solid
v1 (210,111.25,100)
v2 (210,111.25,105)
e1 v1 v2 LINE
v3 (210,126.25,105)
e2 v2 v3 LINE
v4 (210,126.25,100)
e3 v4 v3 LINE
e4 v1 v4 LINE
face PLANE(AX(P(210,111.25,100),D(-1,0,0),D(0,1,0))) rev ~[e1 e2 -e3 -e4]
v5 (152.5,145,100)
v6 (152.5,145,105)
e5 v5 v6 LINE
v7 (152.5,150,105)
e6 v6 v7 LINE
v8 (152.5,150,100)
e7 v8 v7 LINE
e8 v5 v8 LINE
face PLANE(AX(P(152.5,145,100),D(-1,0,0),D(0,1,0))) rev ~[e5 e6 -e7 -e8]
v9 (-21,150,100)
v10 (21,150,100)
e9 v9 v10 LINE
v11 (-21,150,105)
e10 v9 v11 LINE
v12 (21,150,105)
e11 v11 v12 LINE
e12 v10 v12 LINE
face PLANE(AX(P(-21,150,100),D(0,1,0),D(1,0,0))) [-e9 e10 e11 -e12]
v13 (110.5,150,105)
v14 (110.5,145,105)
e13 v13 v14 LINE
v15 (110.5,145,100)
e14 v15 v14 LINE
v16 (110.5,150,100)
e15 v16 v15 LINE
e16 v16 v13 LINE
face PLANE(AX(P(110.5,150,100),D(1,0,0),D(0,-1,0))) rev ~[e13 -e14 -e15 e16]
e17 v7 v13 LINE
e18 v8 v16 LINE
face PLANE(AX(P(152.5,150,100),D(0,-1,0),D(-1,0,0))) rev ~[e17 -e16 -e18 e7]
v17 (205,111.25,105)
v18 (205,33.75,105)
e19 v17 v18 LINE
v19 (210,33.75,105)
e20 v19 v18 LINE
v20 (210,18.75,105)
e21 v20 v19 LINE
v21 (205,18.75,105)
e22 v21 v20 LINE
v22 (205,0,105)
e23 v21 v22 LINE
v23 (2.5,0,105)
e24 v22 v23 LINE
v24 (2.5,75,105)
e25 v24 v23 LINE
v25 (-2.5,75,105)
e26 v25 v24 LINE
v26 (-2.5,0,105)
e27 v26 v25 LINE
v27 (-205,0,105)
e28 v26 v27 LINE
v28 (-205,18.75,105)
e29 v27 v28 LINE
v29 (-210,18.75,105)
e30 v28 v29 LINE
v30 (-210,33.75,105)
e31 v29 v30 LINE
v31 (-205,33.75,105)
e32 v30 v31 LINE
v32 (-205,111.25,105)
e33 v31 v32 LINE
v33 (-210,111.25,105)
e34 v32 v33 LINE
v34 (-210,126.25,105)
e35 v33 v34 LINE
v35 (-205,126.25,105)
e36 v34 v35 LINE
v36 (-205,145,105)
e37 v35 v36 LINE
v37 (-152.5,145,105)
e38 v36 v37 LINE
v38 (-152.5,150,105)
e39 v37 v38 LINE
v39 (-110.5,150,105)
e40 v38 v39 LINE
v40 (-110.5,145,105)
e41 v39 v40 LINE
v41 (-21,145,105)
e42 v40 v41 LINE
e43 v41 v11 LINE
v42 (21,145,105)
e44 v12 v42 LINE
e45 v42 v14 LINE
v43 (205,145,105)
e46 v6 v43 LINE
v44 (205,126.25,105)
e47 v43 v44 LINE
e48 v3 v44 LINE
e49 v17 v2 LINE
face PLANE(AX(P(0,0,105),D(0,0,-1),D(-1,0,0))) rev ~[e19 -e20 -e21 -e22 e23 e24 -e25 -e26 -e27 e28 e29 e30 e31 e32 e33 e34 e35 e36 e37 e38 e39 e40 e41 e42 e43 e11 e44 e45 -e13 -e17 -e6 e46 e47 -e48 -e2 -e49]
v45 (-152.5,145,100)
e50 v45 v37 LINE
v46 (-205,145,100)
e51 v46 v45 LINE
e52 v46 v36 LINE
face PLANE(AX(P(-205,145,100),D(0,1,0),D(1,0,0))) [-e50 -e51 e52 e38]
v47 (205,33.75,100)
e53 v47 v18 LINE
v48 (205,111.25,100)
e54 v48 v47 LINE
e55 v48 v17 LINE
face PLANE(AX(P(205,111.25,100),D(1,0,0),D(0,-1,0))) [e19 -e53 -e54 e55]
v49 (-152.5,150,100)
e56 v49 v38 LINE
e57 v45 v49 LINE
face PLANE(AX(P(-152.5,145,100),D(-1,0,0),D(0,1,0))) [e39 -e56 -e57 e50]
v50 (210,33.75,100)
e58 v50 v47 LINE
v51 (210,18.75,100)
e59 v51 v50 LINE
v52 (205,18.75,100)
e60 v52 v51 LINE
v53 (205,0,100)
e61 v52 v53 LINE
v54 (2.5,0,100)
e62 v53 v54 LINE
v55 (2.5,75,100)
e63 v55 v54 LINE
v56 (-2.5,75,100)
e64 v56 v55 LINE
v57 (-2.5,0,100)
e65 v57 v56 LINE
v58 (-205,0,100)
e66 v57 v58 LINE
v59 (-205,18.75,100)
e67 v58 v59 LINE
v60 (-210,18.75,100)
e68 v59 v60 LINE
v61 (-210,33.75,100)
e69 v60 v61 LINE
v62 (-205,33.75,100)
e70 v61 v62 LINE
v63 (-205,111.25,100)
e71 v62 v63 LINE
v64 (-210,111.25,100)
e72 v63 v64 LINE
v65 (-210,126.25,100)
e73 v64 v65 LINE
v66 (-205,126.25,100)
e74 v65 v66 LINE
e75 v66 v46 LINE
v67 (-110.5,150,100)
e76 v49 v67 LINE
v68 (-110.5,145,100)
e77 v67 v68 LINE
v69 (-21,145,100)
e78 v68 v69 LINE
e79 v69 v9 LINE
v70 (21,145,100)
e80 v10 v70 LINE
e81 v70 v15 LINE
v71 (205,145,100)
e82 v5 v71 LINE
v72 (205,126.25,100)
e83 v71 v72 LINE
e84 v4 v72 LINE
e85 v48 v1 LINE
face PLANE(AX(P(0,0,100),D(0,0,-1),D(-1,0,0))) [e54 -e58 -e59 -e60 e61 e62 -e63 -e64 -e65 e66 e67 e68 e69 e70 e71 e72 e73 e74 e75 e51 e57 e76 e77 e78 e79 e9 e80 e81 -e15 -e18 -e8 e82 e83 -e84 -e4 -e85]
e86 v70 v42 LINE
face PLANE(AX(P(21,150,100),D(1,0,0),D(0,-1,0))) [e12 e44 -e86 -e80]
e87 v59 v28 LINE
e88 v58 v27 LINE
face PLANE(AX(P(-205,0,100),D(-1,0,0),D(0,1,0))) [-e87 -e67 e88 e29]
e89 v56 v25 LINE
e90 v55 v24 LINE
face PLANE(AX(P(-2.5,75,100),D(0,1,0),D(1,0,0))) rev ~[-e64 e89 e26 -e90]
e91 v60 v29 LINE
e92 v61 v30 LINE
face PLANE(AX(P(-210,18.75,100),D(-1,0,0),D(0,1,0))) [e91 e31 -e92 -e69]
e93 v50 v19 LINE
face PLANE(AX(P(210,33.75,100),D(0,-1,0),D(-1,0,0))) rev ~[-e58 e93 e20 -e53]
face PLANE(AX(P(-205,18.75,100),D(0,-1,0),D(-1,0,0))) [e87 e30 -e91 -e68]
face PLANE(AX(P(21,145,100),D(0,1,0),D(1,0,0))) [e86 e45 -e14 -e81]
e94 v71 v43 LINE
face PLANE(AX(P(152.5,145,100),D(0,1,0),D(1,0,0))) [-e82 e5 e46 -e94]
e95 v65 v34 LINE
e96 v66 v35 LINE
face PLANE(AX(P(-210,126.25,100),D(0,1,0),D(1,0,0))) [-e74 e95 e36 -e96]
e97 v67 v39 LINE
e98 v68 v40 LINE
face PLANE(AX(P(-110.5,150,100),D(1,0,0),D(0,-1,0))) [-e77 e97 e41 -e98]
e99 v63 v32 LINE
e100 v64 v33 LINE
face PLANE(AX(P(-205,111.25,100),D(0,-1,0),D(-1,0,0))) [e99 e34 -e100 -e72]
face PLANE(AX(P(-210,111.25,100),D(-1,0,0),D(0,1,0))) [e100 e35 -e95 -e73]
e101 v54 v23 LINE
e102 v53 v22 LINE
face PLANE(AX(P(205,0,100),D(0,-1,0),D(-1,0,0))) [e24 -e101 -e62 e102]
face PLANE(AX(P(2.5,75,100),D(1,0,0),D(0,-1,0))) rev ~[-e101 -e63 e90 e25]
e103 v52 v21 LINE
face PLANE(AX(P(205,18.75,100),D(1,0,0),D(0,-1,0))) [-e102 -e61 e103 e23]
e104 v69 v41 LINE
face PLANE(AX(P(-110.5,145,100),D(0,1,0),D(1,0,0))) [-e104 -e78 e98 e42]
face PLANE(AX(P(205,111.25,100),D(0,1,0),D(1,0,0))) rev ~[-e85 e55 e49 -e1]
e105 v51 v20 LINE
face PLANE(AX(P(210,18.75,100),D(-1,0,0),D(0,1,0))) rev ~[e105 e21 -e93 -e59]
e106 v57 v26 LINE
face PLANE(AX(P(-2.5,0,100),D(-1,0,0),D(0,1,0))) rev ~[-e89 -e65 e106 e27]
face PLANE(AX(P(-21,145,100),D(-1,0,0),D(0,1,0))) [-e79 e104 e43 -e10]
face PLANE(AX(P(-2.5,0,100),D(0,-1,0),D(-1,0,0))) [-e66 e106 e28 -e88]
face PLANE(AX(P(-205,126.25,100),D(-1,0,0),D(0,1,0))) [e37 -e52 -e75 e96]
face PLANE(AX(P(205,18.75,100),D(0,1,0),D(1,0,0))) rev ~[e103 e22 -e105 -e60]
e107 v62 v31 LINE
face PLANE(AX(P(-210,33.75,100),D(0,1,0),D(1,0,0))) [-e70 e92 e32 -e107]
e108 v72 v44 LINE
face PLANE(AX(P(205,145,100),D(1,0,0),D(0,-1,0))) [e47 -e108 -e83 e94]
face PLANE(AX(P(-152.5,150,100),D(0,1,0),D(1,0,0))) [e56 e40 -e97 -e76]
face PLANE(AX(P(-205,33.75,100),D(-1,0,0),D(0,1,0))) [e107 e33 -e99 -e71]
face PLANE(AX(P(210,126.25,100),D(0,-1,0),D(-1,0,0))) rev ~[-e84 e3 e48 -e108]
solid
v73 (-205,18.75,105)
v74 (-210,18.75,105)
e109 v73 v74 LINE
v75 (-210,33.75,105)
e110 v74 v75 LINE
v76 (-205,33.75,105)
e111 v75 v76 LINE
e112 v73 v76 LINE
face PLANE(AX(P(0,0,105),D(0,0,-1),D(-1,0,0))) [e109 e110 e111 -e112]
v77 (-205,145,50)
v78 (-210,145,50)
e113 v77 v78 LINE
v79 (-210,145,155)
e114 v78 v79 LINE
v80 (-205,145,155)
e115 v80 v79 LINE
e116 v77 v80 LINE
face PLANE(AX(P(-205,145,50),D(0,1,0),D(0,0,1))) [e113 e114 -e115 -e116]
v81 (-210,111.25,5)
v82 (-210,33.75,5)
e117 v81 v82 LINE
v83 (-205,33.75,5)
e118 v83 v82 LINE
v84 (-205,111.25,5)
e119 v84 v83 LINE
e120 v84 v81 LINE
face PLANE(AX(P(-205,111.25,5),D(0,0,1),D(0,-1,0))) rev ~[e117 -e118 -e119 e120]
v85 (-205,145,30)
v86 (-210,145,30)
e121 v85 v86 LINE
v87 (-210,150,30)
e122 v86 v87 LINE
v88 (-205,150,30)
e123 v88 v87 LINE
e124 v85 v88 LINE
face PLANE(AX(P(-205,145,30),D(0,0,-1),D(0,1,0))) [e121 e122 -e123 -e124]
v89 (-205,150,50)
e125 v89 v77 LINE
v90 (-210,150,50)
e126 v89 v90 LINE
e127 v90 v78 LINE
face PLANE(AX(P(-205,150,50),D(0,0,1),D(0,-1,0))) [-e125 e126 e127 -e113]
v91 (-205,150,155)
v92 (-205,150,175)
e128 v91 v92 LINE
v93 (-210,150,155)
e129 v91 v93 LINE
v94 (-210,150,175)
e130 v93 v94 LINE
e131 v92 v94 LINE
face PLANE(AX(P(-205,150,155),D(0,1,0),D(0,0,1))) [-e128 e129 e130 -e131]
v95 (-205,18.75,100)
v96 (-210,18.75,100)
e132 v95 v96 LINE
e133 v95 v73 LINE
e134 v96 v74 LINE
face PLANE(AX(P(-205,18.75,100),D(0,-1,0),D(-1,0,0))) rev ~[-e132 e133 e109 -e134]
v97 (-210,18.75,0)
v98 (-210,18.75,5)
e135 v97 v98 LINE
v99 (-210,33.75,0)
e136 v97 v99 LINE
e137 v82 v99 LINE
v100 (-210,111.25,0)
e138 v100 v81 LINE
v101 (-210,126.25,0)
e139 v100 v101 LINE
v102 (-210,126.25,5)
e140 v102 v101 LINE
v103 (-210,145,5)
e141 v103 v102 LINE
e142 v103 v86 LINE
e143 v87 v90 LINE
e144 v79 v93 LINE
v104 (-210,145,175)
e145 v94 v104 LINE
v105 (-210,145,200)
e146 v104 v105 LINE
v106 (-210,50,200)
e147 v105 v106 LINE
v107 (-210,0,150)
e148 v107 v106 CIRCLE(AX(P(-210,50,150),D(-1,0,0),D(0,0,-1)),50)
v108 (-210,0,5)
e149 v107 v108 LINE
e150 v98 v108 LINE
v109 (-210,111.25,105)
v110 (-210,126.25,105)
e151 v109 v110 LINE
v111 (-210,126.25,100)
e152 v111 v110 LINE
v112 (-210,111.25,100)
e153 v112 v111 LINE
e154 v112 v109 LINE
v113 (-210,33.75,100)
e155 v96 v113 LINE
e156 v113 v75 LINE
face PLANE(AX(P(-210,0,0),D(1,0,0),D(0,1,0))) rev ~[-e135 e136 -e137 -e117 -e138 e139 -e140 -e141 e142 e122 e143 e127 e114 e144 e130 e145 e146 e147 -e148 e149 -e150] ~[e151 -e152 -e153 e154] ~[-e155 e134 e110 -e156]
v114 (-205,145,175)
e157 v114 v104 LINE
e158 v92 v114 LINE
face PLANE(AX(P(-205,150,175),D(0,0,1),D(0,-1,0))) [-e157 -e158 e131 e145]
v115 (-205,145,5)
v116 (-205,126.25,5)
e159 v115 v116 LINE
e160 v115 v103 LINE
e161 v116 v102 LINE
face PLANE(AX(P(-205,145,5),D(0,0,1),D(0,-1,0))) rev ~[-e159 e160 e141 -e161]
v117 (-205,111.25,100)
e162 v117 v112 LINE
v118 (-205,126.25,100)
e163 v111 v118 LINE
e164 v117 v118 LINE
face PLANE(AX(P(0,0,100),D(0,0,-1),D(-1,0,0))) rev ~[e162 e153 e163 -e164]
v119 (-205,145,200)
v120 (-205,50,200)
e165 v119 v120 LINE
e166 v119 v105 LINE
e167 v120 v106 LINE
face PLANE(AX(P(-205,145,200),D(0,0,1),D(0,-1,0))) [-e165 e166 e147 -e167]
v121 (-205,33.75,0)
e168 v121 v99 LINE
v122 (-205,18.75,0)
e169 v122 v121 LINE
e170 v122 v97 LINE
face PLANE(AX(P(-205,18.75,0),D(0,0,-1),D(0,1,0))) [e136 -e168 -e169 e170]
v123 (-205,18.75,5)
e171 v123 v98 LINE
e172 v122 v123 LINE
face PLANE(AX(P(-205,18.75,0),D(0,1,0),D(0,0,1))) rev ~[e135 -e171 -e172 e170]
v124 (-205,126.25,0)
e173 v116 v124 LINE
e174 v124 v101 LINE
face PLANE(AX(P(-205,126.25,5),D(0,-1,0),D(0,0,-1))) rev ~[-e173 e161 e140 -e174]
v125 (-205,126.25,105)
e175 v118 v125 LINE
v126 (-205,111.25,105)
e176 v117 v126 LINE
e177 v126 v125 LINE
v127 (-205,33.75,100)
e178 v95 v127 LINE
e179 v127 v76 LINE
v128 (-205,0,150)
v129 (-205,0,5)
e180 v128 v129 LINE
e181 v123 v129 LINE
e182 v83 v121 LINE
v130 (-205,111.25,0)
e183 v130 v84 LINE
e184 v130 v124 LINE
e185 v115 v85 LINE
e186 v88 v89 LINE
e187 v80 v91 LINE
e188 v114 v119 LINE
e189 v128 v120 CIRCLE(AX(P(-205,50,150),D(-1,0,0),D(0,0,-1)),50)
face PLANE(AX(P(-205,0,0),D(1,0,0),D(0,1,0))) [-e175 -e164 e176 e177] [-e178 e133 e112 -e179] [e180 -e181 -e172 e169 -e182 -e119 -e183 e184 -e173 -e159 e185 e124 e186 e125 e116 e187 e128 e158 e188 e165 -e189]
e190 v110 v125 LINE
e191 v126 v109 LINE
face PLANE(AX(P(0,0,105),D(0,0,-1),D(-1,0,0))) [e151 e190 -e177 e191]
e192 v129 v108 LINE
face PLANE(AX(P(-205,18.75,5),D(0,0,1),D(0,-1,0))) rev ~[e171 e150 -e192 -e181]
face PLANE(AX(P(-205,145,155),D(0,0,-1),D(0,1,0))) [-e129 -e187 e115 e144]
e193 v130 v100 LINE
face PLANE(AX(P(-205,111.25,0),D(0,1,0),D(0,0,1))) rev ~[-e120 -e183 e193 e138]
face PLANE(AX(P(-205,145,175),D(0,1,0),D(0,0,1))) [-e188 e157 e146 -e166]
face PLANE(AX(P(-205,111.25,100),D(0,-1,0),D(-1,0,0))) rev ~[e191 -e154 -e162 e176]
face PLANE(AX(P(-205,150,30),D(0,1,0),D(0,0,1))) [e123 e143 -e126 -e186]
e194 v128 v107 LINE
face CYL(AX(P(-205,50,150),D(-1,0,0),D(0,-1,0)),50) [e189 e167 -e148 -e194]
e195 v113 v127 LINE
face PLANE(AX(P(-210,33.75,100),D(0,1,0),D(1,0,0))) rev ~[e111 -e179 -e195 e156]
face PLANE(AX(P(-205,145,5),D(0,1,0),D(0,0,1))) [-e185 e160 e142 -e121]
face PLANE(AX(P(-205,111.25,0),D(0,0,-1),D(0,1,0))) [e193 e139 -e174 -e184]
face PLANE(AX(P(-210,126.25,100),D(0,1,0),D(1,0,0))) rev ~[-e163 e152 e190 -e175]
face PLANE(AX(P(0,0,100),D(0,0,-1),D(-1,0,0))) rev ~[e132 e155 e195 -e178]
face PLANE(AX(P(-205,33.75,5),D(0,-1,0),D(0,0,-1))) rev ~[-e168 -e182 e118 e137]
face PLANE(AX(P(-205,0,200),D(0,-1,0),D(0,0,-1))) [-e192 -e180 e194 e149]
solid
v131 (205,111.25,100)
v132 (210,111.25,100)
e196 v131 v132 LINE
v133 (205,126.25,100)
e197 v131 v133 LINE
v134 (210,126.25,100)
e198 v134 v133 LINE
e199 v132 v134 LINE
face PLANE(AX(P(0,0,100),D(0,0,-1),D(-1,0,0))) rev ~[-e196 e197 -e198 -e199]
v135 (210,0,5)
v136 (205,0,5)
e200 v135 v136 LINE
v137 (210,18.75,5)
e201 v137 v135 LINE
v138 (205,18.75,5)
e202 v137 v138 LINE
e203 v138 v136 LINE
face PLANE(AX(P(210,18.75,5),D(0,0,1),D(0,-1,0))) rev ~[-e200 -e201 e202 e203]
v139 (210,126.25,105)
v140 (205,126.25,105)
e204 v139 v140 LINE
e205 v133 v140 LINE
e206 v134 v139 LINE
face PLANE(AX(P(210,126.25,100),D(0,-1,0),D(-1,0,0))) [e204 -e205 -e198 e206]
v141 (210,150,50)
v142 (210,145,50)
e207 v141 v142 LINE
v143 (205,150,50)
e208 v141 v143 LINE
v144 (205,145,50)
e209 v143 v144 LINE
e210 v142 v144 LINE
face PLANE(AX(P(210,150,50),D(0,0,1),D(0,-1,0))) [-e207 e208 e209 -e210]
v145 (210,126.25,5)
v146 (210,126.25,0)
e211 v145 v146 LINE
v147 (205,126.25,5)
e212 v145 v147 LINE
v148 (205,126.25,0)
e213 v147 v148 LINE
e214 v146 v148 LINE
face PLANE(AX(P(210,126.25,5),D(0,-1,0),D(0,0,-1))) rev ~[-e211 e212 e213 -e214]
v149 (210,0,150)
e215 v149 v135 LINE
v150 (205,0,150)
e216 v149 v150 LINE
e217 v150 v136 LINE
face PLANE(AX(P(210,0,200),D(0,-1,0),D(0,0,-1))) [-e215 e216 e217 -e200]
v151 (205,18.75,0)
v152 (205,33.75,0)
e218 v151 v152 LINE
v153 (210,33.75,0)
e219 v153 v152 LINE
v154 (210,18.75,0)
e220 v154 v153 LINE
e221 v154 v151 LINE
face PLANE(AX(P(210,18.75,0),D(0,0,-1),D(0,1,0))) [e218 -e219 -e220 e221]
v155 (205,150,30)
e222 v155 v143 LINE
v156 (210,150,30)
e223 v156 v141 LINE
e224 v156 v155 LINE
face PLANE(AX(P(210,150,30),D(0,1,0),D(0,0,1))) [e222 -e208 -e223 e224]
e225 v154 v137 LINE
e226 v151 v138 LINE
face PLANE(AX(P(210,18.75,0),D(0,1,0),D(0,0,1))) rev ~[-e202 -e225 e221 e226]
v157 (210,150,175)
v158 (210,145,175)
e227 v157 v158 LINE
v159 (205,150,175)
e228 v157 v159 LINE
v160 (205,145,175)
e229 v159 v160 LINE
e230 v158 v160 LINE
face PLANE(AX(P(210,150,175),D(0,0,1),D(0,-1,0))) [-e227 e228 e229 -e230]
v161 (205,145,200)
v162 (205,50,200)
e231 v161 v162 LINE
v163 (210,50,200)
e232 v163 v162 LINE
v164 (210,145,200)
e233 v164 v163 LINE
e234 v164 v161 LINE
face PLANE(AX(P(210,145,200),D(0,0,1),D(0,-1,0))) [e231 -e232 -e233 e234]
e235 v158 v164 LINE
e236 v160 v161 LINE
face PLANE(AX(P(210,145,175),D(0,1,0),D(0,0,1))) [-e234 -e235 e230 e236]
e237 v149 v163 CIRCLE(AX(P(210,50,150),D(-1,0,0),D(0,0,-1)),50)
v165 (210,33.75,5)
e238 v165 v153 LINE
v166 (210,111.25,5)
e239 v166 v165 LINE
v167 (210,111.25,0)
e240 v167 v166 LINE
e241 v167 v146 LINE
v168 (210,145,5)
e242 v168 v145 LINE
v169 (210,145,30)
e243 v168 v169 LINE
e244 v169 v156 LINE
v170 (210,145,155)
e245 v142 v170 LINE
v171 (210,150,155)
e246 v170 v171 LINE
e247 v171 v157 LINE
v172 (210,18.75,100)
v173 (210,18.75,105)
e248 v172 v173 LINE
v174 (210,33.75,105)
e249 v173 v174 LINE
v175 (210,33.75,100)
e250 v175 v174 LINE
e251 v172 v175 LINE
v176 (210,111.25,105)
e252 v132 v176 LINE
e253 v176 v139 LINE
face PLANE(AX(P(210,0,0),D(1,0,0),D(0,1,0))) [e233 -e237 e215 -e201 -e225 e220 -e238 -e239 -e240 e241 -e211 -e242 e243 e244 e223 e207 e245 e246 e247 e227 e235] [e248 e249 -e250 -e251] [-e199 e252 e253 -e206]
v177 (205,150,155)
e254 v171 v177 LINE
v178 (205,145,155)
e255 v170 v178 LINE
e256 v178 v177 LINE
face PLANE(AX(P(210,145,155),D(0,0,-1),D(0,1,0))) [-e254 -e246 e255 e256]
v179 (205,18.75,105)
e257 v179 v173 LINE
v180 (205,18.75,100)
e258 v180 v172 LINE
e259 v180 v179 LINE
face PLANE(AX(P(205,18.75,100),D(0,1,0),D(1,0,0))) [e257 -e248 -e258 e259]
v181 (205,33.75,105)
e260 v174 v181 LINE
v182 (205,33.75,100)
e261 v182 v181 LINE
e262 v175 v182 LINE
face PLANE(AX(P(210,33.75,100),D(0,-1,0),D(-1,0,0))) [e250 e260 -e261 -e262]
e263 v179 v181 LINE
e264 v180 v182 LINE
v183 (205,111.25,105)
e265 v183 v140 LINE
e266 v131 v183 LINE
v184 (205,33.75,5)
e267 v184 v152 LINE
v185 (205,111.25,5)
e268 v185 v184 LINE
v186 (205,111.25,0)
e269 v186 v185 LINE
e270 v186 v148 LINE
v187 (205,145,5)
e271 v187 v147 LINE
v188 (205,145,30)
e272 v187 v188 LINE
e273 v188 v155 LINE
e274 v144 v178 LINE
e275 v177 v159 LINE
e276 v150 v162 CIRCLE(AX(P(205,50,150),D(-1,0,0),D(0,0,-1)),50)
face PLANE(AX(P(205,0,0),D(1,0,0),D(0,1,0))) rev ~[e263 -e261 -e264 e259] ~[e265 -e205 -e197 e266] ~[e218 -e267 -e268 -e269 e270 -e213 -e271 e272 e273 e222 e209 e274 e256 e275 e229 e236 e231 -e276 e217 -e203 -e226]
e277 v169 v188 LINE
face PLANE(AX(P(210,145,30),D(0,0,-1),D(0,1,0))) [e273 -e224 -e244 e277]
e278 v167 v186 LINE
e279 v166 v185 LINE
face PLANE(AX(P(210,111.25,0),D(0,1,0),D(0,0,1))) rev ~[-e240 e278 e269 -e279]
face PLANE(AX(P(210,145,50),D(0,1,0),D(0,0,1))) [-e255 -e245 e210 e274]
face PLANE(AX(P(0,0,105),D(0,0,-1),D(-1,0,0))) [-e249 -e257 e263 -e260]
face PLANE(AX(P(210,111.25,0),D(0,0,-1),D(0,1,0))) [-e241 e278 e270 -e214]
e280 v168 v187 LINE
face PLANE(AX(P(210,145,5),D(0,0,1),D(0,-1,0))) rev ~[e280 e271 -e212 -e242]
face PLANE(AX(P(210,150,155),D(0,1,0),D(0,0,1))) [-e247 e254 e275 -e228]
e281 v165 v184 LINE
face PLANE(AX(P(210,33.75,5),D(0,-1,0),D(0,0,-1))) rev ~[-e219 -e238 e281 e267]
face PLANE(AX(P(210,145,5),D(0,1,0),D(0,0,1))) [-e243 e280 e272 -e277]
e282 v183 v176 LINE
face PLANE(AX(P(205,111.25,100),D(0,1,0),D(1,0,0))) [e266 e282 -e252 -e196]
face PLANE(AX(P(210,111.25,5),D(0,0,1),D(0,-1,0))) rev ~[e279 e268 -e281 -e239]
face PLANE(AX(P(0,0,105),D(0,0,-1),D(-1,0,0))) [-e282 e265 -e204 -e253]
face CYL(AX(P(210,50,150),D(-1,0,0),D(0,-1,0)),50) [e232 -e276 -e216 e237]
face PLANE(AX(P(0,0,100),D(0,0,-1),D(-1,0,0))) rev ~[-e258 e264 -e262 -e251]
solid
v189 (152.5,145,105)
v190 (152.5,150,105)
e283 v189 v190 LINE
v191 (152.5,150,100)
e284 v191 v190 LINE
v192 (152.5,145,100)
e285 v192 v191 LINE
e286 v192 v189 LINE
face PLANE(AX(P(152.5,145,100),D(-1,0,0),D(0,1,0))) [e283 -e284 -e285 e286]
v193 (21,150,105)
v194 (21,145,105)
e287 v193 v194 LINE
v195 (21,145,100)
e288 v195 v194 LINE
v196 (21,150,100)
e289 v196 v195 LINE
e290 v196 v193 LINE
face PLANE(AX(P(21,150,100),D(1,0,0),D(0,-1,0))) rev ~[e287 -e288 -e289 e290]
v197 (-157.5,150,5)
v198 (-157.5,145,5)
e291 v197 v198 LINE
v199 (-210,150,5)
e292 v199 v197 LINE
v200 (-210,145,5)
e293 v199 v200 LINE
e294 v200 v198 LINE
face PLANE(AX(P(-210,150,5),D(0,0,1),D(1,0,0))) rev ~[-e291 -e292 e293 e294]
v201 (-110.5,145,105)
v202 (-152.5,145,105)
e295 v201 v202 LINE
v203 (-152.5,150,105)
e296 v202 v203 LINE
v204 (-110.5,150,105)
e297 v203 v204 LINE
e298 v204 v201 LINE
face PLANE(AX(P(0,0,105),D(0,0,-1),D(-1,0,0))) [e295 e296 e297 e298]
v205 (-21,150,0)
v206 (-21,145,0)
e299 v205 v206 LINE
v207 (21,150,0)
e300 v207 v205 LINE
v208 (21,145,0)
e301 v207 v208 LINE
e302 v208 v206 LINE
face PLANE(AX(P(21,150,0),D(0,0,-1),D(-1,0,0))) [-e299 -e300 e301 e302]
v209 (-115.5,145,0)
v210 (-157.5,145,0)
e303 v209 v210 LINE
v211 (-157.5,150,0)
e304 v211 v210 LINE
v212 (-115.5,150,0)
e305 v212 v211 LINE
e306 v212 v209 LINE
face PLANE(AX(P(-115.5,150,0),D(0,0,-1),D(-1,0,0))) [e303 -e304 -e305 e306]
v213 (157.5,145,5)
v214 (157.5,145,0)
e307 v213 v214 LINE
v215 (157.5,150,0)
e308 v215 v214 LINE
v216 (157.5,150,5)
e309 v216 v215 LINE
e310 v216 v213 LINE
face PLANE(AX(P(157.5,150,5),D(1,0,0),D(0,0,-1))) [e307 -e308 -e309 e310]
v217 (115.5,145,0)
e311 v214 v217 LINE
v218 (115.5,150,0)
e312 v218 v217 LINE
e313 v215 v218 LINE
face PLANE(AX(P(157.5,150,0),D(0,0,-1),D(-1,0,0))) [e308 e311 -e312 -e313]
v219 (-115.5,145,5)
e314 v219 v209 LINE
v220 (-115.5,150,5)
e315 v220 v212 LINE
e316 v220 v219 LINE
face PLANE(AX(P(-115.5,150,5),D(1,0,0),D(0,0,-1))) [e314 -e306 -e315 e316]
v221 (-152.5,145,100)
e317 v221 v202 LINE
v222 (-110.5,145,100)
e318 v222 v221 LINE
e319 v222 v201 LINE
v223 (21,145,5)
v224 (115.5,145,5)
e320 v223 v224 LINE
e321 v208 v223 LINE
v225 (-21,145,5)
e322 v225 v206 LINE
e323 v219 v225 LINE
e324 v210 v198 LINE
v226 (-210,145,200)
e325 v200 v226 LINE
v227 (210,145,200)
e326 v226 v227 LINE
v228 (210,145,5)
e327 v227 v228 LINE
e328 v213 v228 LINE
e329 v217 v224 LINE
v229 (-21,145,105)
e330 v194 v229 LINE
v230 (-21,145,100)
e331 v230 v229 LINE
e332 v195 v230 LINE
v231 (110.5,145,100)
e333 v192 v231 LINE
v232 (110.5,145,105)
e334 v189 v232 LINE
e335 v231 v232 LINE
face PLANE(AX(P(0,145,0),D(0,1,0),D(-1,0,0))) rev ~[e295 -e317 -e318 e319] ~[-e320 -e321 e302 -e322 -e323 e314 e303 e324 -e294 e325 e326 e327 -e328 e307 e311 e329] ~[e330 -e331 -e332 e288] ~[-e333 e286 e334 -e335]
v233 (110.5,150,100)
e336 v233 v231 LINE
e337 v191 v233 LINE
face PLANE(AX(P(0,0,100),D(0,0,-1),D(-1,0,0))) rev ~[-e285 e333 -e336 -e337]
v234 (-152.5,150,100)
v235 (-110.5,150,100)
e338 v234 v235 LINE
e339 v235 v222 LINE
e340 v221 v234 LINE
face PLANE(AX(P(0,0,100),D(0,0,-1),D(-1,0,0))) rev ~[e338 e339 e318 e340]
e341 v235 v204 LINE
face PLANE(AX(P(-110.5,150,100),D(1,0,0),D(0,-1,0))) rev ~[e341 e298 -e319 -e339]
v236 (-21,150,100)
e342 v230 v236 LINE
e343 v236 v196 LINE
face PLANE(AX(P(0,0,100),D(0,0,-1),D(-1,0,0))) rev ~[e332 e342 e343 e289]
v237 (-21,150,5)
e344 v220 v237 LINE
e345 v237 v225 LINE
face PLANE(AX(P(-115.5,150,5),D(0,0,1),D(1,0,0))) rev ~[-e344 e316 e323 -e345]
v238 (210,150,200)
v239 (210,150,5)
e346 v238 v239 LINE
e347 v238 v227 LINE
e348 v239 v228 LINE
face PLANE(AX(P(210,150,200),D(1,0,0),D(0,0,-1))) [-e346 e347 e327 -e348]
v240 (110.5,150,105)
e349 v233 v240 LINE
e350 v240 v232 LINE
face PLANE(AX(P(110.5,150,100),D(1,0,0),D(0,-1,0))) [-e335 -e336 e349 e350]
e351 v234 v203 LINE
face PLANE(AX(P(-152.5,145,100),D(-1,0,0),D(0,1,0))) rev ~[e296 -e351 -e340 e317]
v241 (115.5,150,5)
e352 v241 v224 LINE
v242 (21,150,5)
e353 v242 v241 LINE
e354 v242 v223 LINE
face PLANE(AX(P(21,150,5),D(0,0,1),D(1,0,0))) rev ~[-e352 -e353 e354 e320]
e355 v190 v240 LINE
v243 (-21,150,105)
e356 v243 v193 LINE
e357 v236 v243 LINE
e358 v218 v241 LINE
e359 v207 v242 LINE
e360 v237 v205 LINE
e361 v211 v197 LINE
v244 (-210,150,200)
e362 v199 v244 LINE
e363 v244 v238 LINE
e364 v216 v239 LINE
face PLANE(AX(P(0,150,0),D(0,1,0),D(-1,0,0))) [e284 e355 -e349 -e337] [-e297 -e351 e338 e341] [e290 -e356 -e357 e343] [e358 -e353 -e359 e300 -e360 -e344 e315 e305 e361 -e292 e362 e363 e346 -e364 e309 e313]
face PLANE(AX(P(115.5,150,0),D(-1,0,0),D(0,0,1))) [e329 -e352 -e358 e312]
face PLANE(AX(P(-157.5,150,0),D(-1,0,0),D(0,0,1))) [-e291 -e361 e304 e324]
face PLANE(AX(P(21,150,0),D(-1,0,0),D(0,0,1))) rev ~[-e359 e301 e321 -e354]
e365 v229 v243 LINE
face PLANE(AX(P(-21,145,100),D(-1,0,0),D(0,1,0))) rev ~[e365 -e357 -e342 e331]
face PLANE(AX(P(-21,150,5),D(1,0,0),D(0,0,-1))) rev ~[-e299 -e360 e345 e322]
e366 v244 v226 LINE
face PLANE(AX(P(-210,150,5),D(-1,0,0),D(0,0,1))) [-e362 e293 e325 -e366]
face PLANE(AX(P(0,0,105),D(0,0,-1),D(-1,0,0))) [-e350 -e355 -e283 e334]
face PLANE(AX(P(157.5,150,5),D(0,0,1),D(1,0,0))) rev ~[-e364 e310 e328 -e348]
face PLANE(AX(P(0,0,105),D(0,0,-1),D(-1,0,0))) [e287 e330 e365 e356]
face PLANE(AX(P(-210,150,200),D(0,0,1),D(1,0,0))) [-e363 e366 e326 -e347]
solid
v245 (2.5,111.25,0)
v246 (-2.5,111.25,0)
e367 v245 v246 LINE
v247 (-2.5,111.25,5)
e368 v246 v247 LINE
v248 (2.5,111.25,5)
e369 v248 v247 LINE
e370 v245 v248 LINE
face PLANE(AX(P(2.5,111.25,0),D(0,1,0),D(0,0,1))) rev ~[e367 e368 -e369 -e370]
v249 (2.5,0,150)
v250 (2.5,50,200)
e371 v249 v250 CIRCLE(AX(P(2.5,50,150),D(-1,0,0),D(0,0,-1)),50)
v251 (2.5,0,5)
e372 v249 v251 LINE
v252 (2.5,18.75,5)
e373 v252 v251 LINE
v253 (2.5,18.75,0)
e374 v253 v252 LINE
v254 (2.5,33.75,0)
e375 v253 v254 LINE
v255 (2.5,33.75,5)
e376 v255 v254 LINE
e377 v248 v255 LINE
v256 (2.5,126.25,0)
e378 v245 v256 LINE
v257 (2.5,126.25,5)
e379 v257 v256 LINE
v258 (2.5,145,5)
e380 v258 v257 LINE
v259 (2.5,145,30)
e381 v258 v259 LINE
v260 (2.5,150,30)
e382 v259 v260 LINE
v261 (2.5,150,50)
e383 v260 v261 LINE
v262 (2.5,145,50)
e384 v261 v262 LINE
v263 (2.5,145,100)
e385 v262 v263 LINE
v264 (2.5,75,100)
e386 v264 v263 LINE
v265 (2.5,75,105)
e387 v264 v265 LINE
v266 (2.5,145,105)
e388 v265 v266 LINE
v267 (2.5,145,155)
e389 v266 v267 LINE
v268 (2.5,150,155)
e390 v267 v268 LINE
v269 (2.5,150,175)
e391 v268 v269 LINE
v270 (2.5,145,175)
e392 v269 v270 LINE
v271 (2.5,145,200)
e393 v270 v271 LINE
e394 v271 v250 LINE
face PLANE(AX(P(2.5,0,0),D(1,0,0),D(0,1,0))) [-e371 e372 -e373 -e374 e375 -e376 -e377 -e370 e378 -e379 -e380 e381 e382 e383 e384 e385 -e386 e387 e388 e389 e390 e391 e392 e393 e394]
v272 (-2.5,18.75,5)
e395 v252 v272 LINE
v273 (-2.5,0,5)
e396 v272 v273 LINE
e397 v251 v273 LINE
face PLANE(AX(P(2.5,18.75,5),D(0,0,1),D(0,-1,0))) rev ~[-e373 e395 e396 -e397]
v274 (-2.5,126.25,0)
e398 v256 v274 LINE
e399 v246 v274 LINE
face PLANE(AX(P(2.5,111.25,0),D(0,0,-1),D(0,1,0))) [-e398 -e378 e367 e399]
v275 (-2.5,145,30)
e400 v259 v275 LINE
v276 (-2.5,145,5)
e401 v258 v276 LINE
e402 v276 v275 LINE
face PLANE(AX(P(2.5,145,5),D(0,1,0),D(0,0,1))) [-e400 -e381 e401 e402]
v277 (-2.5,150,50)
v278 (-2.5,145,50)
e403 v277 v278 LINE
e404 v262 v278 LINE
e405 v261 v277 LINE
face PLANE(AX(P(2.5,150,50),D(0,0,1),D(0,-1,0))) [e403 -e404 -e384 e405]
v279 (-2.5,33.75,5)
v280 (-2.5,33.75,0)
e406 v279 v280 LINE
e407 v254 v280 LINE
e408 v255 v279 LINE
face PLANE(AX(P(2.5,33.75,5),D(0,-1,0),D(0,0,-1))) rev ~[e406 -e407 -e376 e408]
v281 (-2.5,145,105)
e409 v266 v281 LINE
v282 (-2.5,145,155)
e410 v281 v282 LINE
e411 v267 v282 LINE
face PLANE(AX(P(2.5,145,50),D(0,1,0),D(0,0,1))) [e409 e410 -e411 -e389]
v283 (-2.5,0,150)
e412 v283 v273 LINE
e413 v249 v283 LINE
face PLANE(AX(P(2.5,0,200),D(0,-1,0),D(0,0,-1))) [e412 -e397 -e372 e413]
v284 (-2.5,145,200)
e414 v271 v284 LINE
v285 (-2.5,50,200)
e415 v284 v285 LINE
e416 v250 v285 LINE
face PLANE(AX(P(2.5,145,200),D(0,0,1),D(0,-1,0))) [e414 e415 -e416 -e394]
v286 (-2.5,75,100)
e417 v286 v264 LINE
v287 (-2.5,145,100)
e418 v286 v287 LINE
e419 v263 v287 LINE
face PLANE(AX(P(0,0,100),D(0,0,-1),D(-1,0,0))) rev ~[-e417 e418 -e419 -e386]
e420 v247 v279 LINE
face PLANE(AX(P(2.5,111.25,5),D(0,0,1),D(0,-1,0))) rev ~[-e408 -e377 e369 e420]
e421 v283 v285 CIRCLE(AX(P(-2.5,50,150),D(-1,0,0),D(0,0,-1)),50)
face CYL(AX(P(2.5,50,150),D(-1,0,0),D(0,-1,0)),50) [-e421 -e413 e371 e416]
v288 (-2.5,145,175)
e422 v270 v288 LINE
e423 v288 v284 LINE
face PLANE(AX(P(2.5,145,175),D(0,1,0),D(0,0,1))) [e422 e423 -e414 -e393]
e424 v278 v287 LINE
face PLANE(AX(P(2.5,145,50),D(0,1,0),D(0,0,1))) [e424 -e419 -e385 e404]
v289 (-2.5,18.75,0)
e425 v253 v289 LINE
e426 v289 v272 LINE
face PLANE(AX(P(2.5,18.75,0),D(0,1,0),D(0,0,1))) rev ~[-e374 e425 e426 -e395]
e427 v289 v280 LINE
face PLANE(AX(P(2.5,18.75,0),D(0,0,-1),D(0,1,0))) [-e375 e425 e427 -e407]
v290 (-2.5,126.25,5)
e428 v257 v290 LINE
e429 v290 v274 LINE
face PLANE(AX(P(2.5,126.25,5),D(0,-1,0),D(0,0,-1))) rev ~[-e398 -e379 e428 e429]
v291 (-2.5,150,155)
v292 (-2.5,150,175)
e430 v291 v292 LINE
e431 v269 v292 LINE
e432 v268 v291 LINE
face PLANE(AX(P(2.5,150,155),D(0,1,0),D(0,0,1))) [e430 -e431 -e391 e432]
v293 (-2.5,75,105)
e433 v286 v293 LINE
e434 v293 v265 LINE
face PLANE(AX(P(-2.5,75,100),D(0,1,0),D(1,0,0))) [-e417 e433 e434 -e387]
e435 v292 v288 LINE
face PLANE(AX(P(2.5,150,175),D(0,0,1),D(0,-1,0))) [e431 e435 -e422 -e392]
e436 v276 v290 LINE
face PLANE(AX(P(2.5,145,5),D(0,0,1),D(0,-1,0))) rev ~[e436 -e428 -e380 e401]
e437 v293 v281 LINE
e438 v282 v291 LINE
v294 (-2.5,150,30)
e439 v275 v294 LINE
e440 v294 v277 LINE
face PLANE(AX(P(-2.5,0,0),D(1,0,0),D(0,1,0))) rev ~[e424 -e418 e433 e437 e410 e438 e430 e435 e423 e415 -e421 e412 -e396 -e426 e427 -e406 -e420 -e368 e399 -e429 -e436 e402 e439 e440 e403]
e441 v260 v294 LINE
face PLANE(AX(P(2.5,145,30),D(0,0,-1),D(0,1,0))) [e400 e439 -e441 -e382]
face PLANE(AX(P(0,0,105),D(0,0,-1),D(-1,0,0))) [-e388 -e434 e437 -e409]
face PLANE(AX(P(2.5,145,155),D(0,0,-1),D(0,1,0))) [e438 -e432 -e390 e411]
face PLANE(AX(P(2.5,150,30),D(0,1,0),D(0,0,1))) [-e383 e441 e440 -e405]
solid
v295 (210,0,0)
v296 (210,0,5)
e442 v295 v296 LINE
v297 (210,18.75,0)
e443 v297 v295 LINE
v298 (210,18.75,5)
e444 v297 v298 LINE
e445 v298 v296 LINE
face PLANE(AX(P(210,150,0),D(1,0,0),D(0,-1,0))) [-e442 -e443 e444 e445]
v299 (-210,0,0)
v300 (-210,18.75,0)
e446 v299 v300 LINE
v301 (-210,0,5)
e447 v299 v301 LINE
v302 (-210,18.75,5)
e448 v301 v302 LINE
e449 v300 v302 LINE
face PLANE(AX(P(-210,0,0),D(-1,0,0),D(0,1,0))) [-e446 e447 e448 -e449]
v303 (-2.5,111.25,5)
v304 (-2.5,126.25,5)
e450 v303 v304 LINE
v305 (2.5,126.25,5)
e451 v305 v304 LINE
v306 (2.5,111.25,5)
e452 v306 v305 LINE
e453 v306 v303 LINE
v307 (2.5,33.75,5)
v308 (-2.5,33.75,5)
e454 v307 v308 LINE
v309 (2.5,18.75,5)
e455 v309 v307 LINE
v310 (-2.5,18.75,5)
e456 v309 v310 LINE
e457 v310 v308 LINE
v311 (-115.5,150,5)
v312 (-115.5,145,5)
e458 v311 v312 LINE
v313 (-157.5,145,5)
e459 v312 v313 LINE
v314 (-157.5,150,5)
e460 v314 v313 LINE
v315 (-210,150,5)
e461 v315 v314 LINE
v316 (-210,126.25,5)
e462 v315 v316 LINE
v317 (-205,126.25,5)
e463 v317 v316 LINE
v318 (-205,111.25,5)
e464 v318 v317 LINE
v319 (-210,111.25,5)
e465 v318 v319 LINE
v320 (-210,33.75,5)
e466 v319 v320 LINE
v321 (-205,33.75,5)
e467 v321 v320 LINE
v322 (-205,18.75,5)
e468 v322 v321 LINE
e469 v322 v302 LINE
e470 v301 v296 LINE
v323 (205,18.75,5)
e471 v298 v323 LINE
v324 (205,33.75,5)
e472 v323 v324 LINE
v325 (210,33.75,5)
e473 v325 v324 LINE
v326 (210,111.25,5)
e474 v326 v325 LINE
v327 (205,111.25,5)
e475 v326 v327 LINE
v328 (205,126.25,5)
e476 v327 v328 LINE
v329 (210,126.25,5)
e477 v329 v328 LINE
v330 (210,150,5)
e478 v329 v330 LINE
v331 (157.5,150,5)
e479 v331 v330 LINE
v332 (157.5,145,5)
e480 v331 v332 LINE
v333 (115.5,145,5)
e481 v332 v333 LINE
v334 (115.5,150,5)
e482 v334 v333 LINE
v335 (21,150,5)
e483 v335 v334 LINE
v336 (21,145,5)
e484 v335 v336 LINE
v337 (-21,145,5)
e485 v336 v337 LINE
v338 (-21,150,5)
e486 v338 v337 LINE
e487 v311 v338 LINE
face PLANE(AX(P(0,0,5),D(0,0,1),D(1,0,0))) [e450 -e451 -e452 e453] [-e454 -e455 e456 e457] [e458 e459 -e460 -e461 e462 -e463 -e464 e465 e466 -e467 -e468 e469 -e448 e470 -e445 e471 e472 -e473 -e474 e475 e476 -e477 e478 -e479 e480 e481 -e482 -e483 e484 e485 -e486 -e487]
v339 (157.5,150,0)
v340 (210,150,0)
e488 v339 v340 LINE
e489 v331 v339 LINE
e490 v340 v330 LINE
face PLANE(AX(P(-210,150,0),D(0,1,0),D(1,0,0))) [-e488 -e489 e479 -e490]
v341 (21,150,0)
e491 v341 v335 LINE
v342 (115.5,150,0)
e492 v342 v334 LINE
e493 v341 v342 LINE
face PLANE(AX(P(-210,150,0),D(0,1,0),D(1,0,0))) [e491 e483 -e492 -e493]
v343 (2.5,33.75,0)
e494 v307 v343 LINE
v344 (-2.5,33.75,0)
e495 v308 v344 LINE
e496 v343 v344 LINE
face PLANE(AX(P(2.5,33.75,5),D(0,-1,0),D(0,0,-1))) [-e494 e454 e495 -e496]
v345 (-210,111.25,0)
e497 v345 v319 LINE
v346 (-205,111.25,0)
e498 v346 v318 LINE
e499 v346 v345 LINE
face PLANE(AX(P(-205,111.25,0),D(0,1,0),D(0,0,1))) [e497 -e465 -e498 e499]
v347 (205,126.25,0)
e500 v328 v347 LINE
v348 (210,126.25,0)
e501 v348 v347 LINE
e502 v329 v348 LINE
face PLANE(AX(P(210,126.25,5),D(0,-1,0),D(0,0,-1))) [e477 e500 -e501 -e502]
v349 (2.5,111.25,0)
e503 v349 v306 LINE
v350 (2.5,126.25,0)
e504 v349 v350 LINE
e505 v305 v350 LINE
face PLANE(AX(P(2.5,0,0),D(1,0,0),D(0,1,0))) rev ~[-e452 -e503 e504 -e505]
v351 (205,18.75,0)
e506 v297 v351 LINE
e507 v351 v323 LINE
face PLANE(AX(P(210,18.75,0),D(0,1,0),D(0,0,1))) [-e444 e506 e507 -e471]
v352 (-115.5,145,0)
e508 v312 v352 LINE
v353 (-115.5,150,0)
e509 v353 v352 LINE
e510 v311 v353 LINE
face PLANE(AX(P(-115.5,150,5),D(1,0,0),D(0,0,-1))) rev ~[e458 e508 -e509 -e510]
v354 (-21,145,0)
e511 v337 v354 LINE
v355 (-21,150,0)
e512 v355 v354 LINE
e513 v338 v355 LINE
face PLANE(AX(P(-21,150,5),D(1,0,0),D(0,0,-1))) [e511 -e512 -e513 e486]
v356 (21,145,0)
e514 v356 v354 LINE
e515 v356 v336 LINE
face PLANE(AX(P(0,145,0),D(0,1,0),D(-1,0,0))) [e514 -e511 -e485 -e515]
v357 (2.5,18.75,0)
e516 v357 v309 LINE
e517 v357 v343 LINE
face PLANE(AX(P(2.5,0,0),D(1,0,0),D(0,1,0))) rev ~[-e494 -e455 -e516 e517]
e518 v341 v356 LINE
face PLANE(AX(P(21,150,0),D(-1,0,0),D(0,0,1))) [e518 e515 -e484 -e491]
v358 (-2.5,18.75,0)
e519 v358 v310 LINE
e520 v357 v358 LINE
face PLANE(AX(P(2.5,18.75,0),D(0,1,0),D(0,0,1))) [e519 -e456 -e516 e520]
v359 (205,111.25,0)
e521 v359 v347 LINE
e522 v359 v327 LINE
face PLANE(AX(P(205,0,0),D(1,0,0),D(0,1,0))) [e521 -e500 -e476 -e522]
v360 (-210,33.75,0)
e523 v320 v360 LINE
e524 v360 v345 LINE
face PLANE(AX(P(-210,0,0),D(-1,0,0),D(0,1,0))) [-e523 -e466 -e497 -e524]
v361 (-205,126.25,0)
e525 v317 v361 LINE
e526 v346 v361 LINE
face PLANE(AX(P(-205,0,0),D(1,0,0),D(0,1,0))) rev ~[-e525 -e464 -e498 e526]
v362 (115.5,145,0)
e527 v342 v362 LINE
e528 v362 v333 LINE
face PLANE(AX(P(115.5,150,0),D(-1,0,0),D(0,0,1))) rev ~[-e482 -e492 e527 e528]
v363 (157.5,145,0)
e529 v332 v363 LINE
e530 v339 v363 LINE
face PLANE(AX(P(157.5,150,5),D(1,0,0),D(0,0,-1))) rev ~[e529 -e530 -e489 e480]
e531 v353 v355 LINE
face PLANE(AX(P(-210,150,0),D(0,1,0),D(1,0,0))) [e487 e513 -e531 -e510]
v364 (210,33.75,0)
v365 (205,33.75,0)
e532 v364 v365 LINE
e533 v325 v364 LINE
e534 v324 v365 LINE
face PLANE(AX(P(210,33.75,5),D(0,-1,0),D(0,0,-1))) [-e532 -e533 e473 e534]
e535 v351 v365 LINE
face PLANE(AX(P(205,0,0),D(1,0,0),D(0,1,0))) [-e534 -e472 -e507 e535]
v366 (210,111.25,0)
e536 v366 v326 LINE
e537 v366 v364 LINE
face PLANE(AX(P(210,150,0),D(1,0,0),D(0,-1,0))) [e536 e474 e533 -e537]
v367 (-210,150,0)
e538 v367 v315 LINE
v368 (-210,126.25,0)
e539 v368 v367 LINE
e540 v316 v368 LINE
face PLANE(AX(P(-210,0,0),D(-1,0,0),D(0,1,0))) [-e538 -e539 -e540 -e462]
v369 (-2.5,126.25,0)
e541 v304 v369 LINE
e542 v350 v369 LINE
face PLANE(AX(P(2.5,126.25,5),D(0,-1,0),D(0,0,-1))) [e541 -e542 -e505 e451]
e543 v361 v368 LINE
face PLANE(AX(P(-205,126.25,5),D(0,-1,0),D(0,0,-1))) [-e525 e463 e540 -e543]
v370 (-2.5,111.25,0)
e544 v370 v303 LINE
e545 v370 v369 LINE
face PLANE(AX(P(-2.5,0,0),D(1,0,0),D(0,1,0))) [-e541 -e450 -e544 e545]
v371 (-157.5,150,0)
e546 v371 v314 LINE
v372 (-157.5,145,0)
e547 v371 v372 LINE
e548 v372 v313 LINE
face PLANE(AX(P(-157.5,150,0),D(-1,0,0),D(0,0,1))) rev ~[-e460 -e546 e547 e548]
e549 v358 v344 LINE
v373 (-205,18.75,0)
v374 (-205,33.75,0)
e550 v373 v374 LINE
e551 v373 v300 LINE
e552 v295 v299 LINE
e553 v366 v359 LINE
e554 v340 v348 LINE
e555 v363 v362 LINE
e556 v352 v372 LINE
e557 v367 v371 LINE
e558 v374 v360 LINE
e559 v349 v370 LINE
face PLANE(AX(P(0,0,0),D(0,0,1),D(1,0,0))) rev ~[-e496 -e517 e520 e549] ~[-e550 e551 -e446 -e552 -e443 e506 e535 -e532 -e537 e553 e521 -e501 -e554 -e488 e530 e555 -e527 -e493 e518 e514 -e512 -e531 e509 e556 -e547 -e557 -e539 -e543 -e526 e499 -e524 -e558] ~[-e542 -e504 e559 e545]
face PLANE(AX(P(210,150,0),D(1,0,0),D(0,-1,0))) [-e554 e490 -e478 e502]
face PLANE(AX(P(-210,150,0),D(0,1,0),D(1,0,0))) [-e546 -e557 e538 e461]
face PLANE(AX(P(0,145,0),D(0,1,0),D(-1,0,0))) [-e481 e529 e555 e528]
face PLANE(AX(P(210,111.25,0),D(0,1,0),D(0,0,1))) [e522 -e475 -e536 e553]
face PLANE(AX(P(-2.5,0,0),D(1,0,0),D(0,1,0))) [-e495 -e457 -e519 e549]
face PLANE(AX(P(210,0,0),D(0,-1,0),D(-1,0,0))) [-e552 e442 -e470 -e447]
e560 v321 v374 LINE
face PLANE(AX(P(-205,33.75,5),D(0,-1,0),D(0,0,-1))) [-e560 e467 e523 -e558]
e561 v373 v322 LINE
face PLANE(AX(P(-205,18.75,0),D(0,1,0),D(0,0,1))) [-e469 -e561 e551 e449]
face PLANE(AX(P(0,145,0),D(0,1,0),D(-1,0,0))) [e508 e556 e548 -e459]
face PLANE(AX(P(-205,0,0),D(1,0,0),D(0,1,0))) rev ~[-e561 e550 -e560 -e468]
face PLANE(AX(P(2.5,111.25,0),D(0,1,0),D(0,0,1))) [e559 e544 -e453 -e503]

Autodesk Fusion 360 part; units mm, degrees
sketch "Sketch1" plane through (0, 0, 0) normal (0, 0, 1) x (1, 0, 0)
  line L0 (-210, 150) -> (210, 150)
  line L1 (210, 150) -> (210, 0)
  line L2 (210, 0) -> (-210, 0)
  line L3 (-210, 0) -> (-210, 150)
  dimension "d6" = 420
  dimension "d7" = 150
extrude "Extrude1" add sketch "Sketch1" along normal blind 5 makes body 1
sketch "Sketch4" plane through (0, 150, 0) normal (0, 1, 0) x (-1, 0, 0)
  line L0 (-210, 0) -> (210, 0)
  line L1 (210, 0) -> (210, 5)
  line L2 (210, 5) -> (-210, 5)
  line L3 (-210, 5) -> (-210, 0)
  line L4 (-210, 5) -> (210, 5)
  line L5 (210, 5) -> (210, 200)
  line L6 (210, 200) -> (-210, 200)
  line L7 (-210, 200) -> (-210, 5)
  line L8 (115.5, 0) -> (157.5, 0)
  line L9 (157.5, 0) -> (157.5, 5)
  line L10 (157.5, 5) -> (115.5, 5)
  line L11 (115.5, 5) -> (115.5, 0)
  line L12 (-157.5, 0) -> (-115.5, 0)
  line L13 (-115.5, 0) -> (-115.5, 5)
  line L14 (-115.5, 5) -> (-157.5, 5)
  line L15 (-157.5, 5) -> (-157.5, 0)
  line L16 (-21, 5) -> (21, 5)
  line L17 (21, 5) -> (21, 0)
  line L18 (21, 0) -> (-21, 0)
  line L19 (-21, 0) -> (-21, 5)
  point P0 (0, 5)
  point P1 (0, 5)
  point P2 (0, 5)
  dimension "d10" = 420
  dimension "d11" = 195
  dimension "d39" = 42
  dimension "d40" = 5
  dimension "d41" = 52.5
  dimension "d42" = 42
  dimension "d43" = 5
  dimension "d44" = 52.5
  dimension "d45" = 42
  dimension "d46" = 5
extrude "Extrude2" add sketch "Sketch4" against normal blind 5 separate body contours L0 L2 L4 L12 L13 L14 L15 | L2 L4 L5 L6 L7 L10 L14 L16 | L0 L2 L4 L16 L17 L18 L19 | L0 L2 L4 L8 L9 L10 L11 makes body 2
sketch "Sketch5" plane through (210, 0, 0) normal (1, 0, 0) x (0, 1, 0)
  line L0 (0, 0) -> (150, 0)
  line L1 (150, 0) -> (150, 5)
  line L2 (150, 5) -> (0, 5)
  line L3 (0, 5) -> (0, 0)
  line L4 (0, 5) -> (145, 5)
  line L5 (145, 5) -> (145, 200)
  line L6 (145, 200) -> (0, 200)
  line L7 (0, 200) -> (0, 5)
  line L8 (18.75, 5) -> (33.75, 5)
  line L9 (33.75, 5) -> (33.75, 0)
  line L10 (33.75, 0) -> (18.75, 0)
  line L11 (18.75, 0) -> (18.75, 5)
  line L12 (111.25, 5) -> (126.25, 5)
  line L13 (126.25, 5) -> (126.25, 0)
  line L14 (126.25, 0) -> (111.25, 0)
  line L15 (111.25, 0) -> (111.25, 5)
  line L16 (145, 30) -> (150, 30)
  line L17 (150, 30) -> (150, 50)
  line L18 (150, 50) -> (145, 50)
  line L19 (145, 50) -> (145, 30)
  line L20 (145, 155) -> (150, 155)
  line L21 (150, 155) -> (150, 175)
  line L22 (150, 175) -> (145, 175)
  line L23 (145, 175) -> (145, 155)
  point P0 (145, 5)
  dimension "d14" = 145
  dimension "d15" = 195
  dimension "d27" = 20
  dimension "d28" = 5
  dimension "d29" = 25
  dimension "d30" = 20
  dimension "d31" = 5
  dimension "d32" = 25
  dimension "d33" = 15
  dimension "d34" = 5
  dimension "d35" = 18.75
  dimension "d36" = 15
  dimension "d37" = 5
  dimension "d38" = 18.75
extrude "Extrude3" add sketch "Sketch5" against normal blind 5 separate body contours L0 L2 L4 L8 L9 L10 L11 | L2 L4 L5 L6 L7 L8 L12 L19 L23 | L0 L2 L4 L12 L13 L14 L15 | L5 L20 L21 L22 L23 | L5 L16 L17 L18 L19 makes body 3
fillet "Fillet1" radius 50 1 edges at (207.5, 0, 200) on bodies 3
pattern_linear "R-Pattern1" count 3 spacing 207.5 along (-1, 0, 0) of bodies 3 makes body 4 at (2.5, 59.5833, 68.3333) makes body 5 at (-205, 59.5833, 68.3333)
ref_plane "WorkPlane1" through (0, 75, 100) normal (0, 0, -1) x (-1, 0, 0)
sketch "Sketch6" plane through (0, 0, 100) normal (0, 0, -1) x (-1, 0, 0)
  line L0 (205, 145) -> (-205, 145)
  line L1 (-205, 145) -> (-205, 0)
  line L2 (-205, 0) -> (205, 0)
  line L3 (205, 0) -> (205, 145)
  line L4 (210, 126.25) -> (205, 126.25)
  line L5 (205, 126.25) -> (205, 111.25)
  line L6 (205, 111.25) -> (210, 111.25)
  line L7 (210, 111.25) -> (210, 126.25)
  line L8 (210, 33.75) -> (205, 33.75)
  line L9 (205, 33.75) -> (205, 18.75)
  line L10 (205, 18.75) -> (210, 18.75)
  line L11 (210, 18.75) -> (210, 33.75)
  line L12 (152.5, 150) -> (110.5, 150)
  line L13 (110.5, 150) -> (110.5, 145)
  line L14 (110.5, 145) -> (152.5, 145)
  line L15 (152.5, 145) -> (152.5, 150)
  line L16 (21, 150) -> (-21, 150)
  line L17 (-21, 150) -> (-21, 145)
  line L18 (-21, 145) -> (21, 145)
  line L19 (21, 145) -> (21, 150)
  line L20 (2.5, 75) -> (-2.5, 75)
  line L21 (-2.5, 75) -> (-2.5, 0)
  line L22 (-2.5, 0) -> (2.5, 0)
  line L23 (2.5, 0) -> (2.5, 75)
  line L24 (0, 1.75) -> (0, 22.5)
  line L25 (-110.5, 145) -> (-152.5, 145)
  line L26 (-152.5, 145) -> (-152.5, 150)
  line L27 (-152.5, 150) -> (-110.5, 150)
  line L28 (-110.5, 150) -> (-110.5, 145)
  line L29 (-205, 126.25) -> (-205, 111.25)
  line L30 (-205, 111.25) -> (-210, 111.25)
  line L31 (-210, 126.25) -> (-205, 126.25)
  line L32 (-210, 111.25) -> (-210, 126.25)
  line L33 (-205, 33.75) -> (-205, 18.75)
  line L34 (-205, 18.75) -> (-210, 18.75)
  line L35 (-210, 33.75) -> (-205, 33.75)
  line L36 (-210, 18.75) -> (-210, 33.75)
  point P0 (205, 145)
  point P1 (-205, 0)
  point P2 (0, 145)
  point P3 (0, 145)
  dimension "d47" = 75
  dimension "d48" = 5
  dimension "d49" = 15
  dimension "d50" = 5
  dimension "d51" = 18.75
  dimension "d52" = 15
  dimension "d53" = 5
  dimension "d54" = 18.75
  dimension "d55" = 42
  dimension "d56" = 5
  dimension "d57" = 52.5
  dimension "d58" = 42
  dimension "d59" = 5
extrude "Extrude4" add sketch "Sketch6" against normal blind 5 separate body contours L0 L1 L2 L3 L5 L9 L14 L18 L20 L21 L23 L25 L29 L33 | L0 L12 L13 L14 L15 | L3 L4 L5 L6 L7 | L0 L16 L17 L18 L19 | L3 L8 L9 L10 L11 | L0 L25 L26 L27 L28 | L1 L29 L30 L31 L32 | L1 L33 L34 L35 L36 makes body 6
combine "Combine1" operation cut target body 1 tool bodies 3 5 2 4 keep tools
combine "Combine2" operation cut target body 4 tool bodies 6 keep tools
combine "Combine3" operation cut target body 3 tool bodies 6 keep tools
combine "Combine4" operation cut target body 2 tool bodies 6 keep tools
combine "Combine5" operation cut target body 5 tool bodies 6 keep tools
equation "len = 420 mm"
equation "dep = 150 mm"
equation "hei = 200 mm"
equation "t = 5 mm"
equation "fil = 50 mm"
equation "d6 = len"
equation "d7 = dep"
equation "d8 = t"
equation "d10 = len"
equation "d11 = hei - t"
equation "d12 = -t"
equation "d14 = dep - t"
equation "d15 = hei - t"
equation "d16 = -t"
equation "d19 = fil"
equation "d22 = len - t"
equation "d24 = -( hei / 2 )"
equation "d25 = -t"
equation "d27 = hei / 10"
equation "d28 = t"
equation "d29 = hei / 8"
equation "d30 = d27"
equation "d31 = d28"
equation "d32 = d29"
equation "d33 = dep / 10"
equation "d34 = t"
equation "d35 = dep / 8"
equation "d36 = d33"
equation "d37 = d34"
equation "d38 = d35"
equation "d39 = len / 10"
equation "d40 = t"
equation "d41 = len / 8"
equation "d42 = d39"
equation "d43 = d40"
equation "d44 = d41"
equation "d45 = d39"
equation "d46 = d43"
equation "d47 = dep / 2"
equation "d48 = t"
equation "d49 = dep / 10"
equation "d50 = t"
equation "d51 = dep / 8"
equation "d52 = d49"
equation "d53 = d50"
equation "d54 = d51"
equation "d55 = len / 10"
equation "d56 = t"
equation "d57 = len / 8"
equation "d58 = len / 10"
equation "d59 = t"
